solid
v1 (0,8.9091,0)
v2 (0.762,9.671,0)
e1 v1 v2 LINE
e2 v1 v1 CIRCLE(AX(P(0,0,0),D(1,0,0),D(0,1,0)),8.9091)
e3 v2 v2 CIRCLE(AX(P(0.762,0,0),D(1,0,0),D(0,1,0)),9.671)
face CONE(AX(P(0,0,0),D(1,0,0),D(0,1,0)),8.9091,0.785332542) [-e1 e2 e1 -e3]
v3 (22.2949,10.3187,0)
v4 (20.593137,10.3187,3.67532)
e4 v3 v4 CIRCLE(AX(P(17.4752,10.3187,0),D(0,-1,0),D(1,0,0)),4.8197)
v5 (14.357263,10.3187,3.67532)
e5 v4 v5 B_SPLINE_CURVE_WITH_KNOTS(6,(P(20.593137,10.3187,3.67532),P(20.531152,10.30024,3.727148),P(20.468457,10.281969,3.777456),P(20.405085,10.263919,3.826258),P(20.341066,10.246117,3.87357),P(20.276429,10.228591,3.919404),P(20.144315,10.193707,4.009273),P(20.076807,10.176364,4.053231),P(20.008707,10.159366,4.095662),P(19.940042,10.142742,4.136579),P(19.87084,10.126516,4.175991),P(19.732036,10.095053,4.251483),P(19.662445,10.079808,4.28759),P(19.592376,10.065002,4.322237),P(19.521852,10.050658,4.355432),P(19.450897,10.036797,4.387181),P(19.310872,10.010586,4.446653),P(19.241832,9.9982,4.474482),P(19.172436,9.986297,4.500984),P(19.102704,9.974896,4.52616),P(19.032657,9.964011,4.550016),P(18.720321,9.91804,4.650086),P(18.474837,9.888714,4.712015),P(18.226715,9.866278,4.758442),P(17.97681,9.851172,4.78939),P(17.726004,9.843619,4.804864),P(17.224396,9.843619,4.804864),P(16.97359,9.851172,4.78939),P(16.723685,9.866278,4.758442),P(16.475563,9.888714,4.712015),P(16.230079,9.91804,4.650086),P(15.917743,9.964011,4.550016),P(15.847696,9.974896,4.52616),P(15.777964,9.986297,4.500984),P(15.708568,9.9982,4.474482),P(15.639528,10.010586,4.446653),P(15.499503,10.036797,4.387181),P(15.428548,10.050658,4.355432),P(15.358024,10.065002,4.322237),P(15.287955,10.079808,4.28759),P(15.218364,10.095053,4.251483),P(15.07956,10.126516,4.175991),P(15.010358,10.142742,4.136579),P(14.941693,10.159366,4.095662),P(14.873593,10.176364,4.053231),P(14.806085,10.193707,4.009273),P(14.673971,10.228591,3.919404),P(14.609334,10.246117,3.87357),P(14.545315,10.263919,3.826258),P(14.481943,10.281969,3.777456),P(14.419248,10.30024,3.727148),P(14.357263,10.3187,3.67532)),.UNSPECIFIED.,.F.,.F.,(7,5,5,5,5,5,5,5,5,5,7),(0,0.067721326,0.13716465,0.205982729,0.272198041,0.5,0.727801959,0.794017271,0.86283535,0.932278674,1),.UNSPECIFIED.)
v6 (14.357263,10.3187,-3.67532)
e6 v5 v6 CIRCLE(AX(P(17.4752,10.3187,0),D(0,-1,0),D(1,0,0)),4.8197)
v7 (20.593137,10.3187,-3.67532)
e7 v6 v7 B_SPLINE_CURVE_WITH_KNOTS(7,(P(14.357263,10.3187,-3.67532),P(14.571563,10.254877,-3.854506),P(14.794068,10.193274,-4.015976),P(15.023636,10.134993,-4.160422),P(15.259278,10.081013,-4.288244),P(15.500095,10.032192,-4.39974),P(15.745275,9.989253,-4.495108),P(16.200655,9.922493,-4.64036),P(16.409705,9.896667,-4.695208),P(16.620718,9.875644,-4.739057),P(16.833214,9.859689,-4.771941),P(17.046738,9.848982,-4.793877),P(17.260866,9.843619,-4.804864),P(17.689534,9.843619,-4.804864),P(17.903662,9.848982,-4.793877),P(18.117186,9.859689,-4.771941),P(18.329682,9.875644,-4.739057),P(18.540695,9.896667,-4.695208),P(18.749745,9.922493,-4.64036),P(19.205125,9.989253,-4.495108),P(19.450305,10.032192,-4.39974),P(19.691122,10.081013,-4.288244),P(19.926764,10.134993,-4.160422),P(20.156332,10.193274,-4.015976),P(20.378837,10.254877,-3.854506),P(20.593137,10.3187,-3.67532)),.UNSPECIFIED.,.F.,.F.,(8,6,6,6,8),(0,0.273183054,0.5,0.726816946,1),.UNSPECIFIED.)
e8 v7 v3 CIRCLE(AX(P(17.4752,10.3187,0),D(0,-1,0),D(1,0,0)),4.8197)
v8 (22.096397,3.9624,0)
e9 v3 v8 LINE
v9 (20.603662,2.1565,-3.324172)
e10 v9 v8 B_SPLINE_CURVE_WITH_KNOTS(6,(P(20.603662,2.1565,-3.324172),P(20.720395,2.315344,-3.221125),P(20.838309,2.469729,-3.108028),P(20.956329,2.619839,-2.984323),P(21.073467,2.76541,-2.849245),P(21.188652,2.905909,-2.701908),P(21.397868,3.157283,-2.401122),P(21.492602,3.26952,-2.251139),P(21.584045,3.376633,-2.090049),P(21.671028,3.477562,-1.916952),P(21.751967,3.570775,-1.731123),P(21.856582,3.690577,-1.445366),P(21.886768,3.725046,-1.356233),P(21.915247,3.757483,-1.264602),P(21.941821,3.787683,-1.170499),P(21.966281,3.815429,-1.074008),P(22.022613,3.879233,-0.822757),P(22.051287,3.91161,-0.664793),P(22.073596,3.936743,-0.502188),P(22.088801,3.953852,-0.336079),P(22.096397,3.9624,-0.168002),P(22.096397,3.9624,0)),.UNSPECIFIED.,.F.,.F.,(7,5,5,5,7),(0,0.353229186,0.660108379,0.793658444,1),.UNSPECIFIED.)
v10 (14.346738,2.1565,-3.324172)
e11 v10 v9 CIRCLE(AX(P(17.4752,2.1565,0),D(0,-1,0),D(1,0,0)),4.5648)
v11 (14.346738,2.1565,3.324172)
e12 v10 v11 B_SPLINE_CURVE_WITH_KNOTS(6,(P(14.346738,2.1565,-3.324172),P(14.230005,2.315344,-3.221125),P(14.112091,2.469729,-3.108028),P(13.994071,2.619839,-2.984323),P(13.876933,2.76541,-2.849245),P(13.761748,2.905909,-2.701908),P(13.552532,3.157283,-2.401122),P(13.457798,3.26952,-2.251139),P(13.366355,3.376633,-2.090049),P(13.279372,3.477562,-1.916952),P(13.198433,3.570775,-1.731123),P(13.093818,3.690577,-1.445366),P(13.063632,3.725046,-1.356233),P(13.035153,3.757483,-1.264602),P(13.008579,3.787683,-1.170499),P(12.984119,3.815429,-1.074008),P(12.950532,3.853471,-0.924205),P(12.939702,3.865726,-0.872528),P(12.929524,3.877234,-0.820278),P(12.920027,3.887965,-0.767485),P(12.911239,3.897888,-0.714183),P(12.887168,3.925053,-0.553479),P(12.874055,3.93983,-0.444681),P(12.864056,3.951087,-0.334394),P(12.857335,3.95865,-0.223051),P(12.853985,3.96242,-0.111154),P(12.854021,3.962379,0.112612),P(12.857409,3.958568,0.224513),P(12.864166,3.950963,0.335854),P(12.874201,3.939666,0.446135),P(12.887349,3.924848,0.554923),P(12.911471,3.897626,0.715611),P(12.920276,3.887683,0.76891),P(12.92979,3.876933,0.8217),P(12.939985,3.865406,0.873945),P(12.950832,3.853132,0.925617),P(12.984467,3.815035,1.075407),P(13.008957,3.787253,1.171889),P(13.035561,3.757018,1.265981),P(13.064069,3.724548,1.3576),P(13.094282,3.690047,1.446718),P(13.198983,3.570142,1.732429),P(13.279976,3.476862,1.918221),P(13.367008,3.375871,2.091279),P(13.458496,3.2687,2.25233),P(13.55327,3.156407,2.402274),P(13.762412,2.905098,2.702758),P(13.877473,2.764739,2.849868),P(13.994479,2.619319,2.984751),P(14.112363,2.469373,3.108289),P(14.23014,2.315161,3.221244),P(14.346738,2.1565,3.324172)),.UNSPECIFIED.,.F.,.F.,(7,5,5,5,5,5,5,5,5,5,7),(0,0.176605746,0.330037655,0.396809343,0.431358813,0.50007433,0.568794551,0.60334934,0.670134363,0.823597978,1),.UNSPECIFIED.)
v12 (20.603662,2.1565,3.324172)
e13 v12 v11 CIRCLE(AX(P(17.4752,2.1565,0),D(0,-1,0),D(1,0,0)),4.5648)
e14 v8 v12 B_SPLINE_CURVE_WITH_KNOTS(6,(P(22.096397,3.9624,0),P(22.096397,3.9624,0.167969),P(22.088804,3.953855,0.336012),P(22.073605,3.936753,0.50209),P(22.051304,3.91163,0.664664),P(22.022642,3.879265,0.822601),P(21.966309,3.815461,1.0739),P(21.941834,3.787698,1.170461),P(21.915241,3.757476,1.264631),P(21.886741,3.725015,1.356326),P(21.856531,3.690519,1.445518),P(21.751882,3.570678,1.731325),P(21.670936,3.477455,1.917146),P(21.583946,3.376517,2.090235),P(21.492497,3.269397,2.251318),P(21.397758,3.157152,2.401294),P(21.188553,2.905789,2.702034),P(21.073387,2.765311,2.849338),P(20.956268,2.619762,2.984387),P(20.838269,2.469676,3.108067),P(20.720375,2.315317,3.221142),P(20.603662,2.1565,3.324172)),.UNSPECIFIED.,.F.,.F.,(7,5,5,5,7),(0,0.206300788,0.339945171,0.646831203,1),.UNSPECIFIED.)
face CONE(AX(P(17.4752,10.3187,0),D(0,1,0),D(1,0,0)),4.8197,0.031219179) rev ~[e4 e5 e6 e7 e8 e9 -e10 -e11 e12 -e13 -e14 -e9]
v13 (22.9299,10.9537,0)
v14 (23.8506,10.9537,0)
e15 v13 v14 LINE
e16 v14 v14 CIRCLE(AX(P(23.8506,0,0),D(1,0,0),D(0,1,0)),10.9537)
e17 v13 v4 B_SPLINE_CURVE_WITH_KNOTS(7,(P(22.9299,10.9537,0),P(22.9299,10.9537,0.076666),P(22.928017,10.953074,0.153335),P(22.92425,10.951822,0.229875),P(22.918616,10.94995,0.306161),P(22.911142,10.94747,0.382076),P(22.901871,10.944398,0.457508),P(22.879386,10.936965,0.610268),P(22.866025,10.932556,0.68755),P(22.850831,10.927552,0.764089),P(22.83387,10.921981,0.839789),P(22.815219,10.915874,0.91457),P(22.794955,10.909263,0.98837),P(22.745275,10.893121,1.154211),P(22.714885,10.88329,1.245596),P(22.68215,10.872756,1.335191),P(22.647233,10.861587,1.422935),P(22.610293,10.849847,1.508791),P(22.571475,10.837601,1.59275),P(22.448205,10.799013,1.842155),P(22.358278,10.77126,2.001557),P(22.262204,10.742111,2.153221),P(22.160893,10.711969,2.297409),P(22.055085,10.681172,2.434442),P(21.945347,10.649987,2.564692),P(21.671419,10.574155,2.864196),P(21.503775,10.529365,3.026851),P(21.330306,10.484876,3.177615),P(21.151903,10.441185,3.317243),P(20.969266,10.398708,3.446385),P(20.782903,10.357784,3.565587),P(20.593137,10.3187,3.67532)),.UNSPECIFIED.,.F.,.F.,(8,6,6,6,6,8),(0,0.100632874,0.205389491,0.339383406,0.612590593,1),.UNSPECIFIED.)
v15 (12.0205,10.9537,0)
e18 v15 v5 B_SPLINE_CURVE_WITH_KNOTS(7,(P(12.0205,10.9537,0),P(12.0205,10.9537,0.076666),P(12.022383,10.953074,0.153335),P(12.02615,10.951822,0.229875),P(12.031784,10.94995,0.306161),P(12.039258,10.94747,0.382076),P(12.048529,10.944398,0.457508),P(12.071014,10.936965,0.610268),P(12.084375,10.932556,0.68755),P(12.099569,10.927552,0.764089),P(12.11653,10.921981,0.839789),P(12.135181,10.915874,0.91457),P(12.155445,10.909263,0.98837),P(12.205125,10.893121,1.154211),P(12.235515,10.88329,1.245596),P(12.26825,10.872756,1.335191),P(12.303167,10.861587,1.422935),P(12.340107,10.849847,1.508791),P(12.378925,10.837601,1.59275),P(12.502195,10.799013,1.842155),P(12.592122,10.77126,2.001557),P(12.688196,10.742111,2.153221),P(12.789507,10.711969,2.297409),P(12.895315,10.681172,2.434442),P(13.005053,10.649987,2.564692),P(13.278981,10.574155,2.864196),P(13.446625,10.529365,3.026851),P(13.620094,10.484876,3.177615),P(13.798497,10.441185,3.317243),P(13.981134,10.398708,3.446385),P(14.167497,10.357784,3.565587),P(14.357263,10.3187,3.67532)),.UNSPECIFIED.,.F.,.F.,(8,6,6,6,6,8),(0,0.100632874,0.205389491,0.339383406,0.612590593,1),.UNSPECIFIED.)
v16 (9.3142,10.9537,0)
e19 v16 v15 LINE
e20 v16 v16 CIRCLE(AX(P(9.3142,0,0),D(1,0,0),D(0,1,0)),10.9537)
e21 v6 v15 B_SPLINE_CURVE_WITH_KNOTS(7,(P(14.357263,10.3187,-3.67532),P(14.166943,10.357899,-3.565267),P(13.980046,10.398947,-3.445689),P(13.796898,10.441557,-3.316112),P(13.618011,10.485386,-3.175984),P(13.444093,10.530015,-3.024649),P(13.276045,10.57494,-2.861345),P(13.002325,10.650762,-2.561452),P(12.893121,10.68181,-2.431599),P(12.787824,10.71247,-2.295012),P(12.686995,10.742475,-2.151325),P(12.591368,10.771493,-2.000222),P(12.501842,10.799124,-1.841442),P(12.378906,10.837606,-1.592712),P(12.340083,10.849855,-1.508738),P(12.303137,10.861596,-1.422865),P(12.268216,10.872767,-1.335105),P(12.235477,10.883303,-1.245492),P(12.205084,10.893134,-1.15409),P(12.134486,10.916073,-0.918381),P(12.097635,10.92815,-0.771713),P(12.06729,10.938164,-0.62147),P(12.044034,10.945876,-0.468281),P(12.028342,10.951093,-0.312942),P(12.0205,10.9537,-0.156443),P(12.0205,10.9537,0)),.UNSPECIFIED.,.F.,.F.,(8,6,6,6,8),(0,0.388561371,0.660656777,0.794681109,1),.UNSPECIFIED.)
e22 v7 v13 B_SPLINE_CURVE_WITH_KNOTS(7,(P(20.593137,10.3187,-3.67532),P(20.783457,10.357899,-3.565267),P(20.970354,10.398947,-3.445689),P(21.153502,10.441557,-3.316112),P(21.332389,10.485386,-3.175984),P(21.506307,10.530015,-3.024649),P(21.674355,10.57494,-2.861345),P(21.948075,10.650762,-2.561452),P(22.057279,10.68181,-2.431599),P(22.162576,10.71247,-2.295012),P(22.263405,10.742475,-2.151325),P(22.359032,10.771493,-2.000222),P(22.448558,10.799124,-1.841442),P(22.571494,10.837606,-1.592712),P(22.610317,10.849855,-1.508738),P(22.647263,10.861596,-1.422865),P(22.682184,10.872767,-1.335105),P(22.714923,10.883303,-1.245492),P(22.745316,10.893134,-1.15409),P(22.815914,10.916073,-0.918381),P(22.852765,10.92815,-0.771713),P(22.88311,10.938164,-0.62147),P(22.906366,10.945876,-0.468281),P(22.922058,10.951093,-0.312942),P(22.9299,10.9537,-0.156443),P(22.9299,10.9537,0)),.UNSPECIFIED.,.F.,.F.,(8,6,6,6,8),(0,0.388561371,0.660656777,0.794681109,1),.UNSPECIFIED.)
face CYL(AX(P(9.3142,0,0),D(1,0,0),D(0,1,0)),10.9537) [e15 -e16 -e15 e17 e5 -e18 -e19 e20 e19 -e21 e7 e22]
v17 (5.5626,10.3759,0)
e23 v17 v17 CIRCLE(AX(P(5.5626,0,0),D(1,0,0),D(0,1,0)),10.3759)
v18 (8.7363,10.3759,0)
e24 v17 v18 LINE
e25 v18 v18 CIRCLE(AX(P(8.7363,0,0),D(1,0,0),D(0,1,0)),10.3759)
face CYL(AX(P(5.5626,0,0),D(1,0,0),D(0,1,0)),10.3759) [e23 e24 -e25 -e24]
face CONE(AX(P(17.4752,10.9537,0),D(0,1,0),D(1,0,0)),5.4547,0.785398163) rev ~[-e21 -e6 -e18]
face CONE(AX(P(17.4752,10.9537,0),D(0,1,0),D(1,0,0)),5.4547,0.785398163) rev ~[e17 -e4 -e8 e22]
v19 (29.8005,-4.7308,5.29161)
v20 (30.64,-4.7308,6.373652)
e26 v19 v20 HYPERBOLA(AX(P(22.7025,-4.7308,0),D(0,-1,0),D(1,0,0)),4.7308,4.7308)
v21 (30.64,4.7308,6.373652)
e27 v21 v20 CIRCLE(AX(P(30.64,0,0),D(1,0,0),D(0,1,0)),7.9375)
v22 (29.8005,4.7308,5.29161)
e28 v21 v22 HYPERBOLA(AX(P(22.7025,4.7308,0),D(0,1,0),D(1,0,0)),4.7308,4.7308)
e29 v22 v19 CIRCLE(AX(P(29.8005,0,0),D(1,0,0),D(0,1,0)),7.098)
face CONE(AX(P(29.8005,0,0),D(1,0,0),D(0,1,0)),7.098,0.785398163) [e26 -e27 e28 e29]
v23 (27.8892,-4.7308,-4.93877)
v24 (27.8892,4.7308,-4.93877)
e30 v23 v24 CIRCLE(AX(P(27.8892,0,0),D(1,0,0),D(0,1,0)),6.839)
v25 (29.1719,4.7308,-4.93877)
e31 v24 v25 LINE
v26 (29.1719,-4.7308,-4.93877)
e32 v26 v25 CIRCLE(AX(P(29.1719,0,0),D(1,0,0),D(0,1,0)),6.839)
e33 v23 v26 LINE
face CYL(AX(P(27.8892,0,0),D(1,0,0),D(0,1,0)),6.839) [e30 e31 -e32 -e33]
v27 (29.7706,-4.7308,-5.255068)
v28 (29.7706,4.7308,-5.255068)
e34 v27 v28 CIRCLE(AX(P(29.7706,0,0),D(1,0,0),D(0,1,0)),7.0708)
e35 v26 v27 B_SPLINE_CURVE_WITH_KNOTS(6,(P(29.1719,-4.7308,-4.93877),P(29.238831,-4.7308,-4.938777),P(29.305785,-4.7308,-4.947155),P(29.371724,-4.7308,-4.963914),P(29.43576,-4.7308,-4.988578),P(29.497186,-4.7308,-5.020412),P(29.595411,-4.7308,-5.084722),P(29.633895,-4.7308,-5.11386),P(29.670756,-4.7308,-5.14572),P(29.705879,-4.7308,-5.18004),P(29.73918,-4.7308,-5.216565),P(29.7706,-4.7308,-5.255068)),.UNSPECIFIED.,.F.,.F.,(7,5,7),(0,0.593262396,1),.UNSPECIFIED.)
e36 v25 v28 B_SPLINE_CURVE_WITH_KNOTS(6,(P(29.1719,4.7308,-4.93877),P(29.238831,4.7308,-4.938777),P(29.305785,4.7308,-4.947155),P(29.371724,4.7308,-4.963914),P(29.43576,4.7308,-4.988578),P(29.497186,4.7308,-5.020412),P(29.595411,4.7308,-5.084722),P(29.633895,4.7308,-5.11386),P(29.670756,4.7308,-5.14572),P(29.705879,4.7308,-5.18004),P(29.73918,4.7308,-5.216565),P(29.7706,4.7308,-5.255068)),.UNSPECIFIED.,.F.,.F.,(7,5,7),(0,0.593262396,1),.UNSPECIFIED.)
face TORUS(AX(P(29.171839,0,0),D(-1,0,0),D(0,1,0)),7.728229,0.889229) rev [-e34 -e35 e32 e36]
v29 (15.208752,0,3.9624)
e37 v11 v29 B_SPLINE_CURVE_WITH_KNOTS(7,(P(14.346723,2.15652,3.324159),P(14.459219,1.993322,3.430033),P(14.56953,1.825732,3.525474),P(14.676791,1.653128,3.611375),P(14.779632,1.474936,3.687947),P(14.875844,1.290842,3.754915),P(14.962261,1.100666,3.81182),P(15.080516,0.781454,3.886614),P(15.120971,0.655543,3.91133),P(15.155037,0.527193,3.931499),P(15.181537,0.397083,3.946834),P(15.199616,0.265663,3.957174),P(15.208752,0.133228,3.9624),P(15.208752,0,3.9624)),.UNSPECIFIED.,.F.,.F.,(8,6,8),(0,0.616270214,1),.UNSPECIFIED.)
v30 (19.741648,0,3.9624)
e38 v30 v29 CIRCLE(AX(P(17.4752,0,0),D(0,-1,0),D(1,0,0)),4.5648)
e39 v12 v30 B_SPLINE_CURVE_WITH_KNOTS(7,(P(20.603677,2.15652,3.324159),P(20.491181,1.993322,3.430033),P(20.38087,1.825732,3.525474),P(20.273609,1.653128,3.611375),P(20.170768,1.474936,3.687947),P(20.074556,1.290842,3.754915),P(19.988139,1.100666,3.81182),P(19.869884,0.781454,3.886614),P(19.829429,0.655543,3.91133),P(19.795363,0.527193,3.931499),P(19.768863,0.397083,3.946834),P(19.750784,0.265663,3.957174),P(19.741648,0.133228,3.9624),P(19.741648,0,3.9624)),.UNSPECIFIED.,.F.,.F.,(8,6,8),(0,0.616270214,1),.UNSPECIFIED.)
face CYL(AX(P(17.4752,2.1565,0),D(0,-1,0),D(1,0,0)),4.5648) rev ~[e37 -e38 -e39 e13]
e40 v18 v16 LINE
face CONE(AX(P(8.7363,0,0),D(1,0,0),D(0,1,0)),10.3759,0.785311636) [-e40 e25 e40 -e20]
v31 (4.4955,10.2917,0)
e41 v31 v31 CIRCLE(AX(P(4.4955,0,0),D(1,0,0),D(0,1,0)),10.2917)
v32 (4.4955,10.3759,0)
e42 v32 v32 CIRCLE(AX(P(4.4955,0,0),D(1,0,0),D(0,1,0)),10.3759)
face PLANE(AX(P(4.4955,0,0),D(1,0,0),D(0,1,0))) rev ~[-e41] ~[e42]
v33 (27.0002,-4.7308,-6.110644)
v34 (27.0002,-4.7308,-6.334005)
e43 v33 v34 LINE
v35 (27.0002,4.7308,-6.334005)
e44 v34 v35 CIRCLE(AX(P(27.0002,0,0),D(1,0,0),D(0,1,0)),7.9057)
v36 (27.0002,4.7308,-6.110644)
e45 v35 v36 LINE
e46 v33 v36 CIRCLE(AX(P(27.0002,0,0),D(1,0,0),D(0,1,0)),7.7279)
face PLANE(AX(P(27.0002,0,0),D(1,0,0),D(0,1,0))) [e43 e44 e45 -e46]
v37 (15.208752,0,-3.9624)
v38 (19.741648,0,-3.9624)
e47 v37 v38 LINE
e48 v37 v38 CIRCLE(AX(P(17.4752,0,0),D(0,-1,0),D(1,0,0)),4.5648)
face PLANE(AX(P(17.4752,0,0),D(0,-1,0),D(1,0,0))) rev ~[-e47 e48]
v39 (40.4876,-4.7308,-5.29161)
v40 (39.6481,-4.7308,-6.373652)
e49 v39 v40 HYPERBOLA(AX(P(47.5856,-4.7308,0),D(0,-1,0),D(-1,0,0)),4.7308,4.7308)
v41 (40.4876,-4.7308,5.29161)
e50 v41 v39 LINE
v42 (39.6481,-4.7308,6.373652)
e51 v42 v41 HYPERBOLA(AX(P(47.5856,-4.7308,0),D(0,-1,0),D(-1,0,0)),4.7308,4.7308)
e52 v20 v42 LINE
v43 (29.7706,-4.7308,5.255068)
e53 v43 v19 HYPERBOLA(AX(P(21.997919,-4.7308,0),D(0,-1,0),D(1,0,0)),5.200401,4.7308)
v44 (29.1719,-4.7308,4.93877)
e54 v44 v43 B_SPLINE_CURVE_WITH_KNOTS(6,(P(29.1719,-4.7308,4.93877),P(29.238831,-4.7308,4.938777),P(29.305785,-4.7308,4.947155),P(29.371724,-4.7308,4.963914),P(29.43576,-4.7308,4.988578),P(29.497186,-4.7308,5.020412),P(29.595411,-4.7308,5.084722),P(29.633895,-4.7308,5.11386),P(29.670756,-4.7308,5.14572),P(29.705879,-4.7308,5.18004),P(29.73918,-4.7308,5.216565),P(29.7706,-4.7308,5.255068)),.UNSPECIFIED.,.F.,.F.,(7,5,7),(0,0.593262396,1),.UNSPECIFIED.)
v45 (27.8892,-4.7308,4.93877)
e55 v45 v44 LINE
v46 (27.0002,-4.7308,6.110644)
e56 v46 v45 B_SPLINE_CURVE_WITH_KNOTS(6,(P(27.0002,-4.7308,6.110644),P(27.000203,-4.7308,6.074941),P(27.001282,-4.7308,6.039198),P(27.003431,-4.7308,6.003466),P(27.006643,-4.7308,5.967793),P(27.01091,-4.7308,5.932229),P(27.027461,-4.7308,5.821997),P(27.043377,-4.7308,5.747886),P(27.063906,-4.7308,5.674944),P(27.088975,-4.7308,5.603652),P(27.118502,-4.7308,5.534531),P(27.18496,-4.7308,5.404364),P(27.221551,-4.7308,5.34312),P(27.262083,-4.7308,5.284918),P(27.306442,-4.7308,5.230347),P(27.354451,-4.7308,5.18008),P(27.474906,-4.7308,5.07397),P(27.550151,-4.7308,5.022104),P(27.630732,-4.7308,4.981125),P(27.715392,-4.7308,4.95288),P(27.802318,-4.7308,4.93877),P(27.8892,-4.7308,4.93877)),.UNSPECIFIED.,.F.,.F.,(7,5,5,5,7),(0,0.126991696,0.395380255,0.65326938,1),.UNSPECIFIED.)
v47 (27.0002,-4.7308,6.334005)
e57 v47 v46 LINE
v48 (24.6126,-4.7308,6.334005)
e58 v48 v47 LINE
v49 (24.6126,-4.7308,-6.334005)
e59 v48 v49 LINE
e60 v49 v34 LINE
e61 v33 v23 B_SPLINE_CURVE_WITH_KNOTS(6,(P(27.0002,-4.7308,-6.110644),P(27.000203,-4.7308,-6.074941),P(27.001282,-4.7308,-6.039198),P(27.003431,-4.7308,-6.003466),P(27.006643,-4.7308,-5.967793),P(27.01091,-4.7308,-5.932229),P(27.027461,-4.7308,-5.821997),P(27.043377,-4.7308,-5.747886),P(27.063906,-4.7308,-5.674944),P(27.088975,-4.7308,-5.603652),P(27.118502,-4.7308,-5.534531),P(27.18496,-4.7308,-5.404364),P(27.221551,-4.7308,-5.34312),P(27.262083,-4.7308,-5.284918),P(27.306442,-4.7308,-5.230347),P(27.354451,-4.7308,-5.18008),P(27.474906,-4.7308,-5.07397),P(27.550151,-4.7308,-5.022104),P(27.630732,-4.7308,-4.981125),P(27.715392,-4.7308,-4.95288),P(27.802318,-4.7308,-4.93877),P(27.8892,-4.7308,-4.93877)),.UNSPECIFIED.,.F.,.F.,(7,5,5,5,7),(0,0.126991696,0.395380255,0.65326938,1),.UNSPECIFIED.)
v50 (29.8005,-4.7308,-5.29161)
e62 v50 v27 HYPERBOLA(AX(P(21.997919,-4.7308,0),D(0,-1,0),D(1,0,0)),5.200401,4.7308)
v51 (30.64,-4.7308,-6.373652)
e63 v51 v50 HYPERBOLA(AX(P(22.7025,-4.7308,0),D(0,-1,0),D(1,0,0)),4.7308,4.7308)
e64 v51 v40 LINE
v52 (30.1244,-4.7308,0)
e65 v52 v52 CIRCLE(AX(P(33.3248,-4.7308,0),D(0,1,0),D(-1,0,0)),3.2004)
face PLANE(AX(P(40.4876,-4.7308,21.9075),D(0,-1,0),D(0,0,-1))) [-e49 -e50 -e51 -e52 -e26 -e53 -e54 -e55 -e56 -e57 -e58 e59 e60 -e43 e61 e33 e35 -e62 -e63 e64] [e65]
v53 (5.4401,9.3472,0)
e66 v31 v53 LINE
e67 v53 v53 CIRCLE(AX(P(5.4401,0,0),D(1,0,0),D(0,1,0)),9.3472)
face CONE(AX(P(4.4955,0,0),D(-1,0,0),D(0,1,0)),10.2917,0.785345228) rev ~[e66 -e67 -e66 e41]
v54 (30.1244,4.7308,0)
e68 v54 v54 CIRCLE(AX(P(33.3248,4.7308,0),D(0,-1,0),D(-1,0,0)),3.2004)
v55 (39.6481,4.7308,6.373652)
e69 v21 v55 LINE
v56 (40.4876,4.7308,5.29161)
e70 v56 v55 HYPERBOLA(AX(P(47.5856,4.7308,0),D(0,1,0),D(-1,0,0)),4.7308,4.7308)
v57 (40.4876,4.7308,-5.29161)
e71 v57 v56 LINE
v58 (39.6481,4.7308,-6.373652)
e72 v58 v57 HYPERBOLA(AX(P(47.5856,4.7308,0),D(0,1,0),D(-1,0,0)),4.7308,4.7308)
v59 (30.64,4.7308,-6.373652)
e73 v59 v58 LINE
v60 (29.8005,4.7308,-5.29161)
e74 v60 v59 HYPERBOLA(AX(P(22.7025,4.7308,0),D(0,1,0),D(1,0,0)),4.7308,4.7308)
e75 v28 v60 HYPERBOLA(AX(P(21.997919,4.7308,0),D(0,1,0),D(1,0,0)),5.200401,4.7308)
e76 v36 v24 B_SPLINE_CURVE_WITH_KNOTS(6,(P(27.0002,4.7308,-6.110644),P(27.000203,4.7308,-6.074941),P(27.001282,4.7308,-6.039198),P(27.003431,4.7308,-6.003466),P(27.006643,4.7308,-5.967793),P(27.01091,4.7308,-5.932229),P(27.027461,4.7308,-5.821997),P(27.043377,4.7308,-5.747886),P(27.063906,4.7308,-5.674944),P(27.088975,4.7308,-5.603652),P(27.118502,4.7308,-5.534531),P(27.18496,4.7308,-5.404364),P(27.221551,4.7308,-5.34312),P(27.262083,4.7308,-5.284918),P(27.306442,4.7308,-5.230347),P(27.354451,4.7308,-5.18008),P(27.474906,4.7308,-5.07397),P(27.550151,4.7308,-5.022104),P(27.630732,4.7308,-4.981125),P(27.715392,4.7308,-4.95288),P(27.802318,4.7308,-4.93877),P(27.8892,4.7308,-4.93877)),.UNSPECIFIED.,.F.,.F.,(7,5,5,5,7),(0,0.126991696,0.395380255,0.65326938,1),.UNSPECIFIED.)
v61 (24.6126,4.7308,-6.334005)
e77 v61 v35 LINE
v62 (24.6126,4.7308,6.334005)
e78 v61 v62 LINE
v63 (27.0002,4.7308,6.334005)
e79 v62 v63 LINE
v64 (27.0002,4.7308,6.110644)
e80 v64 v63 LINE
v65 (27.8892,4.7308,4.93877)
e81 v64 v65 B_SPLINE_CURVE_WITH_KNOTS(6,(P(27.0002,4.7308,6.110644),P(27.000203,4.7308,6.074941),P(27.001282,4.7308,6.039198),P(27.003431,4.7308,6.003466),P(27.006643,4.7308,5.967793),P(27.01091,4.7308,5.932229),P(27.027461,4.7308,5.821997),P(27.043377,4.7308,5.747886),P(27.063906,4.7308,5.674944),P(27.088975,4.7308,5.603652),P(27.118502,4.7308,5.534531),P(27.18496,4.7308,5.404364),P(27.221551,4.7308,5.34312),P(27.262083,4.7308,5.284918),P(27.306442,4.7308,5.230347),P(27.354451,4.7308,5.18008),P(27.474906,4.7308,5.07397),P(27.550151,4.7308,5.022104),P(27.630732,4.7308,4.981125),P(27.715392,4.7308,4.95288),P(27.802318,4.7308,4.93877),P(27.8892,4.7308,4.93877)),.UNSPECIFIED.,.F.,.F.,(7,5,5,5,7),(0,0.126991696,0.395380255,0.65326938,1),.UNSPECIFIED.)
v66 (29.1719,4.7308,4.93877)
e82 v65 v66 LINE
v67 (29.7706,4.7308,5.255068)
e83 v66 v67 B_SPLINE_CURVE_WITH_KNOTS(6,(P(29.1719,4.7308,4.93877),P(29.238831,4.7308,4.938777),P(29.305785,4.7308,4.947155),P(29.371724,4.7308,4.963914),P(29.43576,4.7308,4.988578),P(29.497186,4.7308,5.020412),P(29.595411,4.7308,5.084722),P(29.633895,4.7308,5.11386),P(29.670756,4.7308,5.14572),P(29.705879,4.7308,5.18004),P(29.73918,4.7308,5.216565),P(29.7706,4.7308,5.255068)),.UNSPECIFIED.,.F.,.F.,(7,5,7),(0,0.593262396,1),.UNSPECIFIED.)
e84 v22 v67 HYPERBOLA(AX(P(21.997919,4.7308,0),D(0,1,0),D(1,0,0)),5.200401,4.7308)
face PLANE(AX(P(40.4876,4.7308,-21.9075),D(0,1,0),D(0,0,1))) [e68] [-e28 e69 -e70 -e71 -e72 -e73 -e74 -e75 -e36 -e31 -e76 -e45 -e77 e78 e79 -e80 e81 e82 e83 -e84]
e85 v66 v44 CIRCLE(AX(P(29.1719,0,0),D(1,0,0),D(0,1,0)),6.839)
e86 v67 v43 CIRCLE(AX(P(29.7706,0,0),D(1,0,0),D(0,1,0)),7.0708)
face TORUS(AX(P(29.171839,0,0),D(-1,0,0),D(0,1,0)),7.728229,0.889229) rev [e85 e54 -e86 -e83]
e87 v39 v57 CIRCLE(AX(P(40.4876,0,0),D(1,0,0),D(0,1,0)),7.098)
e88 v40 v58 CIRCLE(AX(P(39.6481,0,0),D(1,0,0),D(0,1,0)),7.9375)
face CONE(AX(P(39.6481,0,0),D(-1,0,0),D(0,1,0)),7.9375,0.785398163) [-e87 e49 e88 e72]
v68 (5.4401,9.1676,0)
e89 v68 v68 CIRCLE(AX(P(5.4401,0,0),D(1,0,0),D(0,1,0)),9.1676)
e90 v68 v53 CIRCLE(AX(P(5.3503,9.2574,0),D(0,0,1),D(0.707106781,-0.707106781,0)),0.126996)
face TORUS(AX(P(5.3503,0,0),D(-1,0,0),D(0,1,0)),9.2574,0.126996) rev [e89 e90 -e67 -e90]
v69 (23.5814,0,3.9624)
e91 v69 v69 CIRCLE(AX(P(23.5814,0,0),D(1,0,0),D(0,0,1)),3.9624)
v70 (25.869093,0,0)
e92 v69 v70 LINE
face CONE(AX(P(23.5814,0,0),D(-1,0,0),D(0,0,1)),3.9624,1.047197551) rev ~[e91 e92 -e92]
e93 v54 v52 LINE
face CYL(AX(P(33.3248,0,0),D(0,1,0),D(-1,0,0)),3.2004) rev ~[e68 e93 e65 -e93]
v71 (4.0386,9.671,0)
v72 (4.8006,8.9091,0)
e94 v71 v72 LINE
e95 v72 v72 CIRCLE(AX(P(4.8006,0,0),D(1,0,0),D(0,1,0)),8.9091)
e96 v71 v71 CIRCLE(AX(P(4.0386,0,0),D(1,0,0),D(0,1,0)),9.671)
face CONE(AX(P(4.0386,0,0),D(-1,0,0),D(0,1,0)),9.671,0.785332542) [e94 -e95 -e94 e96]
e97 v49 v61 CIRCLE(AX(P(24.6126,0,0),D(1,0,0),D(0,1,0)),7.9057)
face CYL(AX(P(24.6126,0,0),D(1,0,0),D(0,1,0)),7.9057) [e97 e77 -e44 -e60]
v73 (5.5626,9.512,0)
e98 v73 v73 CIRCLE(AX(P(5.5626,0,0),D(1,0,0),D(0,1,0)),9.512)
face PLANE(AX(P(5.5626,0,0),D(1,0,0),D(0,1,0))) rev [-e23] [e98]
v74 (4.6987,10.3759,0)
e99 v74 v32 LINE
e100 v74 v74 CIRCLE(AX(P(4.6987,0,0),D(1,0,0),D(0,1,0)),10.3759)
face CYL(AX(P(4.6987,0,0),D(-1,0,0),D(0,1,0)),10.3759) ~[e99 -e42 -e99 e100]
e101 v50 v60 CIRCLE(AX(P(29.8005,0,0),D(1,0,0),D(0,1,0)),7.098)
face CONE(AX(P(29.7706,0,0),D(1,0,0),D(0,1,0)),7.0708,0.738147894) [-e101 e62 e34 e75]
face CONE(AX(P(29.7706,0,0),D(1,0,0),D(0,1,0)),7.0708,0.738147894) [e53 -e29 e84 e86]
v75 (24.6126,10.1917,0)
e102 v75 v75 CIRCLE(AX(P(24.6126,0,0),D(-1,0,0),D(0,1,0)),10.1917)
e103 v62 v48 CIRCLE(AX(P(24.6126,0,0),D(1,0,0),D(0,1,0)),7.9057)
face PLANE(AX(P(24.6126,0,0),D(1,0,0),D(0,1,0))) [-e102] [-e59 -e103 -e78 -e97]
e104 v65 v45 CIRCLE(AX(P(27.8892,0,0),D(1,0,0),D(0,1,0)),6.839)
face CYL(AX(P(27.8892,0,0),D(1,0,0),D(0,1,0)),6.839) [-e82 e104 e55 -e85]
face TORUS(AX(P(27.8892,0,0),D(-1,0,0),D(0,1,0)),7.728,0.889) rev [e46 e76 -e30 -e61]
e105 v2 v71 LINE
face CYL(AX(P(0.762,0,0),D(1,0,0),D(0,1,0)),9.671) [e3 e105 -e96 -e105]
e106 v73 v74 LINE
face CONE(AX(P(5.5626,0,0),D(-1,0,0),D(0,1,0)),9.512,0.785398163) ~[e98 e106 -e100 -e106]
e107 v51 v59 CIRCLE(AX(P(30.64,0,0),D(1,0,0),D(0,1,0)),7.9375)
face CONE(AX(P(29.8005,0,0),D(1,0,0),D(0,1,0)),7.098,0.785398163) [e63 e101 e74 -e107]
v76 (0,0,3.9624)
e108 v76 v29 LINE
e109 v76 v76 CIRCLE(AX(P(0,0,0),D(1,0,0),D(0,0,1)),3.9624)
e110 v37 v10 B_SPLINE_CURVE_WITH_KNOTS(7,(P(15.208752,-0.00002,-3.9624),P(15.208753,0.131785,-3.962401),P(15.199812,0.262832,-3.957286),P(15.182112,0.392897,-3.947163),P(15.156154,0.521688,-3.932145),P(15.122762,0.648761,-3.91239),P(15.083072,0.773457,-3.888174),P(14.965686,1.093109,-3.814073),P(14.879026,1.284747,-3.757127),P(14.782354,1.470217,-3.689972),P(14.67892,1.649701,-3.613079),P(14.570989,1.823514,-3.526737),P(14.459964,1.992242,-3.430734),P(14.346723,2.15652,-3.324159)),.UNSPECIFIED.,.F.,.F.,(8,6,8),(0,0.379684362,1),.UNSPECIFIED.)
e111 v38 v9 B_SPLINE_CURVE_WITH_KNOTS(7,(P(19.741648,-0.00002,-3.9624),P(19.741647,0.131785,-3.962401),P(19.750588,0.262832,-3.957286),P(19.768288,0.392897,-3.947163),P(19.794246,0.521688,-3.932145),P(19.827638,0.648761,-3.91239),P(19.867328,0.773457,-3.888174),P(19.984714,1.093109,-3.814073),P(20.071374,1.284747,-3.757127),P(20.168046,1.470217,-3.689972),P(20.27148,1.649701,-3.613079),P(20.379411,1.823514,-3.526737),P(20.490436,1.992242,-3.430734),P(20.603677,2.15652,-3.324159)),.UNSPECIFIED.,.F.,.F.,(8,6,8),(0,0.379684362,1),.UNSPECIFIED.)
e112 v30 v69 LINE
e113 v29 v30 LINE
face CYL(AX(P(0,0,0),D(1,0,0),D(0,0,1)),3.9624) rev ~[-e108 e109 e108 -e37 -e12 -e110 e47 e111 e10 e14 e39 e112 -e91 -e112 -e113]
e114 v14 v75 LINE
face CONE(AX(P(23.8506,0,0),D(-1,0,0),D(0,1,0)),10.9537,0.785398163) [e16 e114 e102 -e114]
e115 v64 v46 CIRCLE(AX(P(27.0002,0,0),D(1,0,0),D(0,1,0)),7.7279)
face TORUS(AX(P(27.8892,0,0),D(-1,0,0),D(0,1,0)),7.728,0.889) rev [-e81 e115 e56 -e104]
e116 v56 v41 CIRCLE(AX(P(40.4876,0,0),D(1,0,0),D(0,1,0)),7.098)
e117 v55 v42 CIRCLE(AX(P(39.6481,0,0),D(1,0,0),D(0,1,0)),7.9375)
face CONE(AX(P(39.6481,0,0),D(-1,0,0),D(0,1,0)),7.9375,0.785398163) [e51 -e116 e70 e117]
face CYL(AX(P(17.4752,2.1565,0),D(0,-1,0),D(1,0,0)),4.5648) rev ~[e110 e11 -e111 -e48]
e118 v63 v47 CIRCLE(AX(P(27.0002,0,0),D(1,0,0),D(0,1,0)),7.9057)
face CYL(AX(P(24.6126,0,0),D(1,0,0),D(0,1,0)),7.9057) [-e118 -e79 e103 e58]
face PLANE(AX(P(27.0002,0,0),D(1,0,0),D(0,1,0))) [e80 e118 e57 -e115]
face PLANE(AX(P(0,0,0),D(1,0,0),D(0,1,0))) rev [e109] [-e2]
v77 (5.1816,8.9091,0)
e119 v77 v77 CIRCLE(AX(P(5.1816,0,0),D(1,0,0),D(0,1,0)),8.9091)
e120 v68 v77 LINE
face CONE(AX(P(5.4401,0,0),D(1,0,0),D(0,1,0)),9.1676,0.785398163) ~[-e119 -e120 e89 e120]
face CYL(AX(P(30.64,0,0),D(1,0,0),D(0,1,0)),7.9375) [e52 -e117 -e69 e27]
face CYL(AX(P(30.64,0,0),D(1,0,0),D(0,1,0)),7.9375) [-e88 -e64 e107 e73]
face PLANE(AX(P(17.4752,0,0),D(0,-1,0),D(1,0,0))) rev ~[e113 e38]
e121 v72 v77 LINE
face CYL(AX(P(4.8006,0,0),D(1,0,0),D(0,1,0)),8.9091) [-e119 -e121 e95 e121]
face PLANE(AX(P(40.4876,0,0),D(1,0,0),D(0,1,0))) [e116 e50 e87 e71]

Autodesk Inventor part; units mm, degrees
sketch "Sketch_8" plane through (0, 0, 0) normal (0, 0, 1) x (1, 0, 0)
  line L0 (24.6126, 0) -> (0, 0)
  line L1 (0, 0) -> (0, 8.9091)
  line L2 (0, 8.9091) -> (0.762, 9.671)
  line L3 (0.762, 9.671) -> (4.0386, 9.671)
  line L4 (4.0386, 9.671) -> (4.8006, 8.9091)
  line L5 (4.8006, 8.9091) -> (5.5626, 8.9091)
  line L6 (5.5626, 8.9091) -> (5.5626, 10.3759)
  line L7 (5.5626, 10.3759) -> (8.7363, 10.3759)
  line L8 (8.7363, 10.3759) -> (9.3142, 10.9537)
  line L9 (9.3142, 10.9537) -> (23.8506, 10.9537)
  line L10 (23.8506, 10.9537) -> (24.6126, 10.1917)
  line L11 (24.6126, 10.1917) -> (24.6126, 0)
  line L12 (24.6126, 0) -> (0, 0)
revolve "Revolution1" add sketch "Sketch_8" angle 360 about axis through (24.6126, 0, 0) along (1, 0, 0)
sketch "Sketch_15" plane through (0, 0, 0) normal (0, 0, 1) x (1, 0, 0)
  line L0 (40.4876, 0) -> (24.6126, 0)
  line L1 (24.6126, 0) -> (24.6126, 7.9057)
  line L2 (24.6126, 7.9057) -> (27.0002, 7.9057)
  line L3 (27.0002, 7.9057) -> (27.0002, 7.7279)
  arc A0 (27.0002, 7.7279) -> (27.8892, 6.839) centre (27.8892, 7.728) ccw
  line L4 (27.8892, 6.839) -> (29.1719, 6.839)
  arc A1 (29.1719, 6.839) -> (29.7706, 7.0708) centre (29.1719, 7.7279) ccw
  line L5 (29.7706, 7.0708) -> (29.8005, 7.098)
  line L6 (29.8005, 7.098) -> (30.64, 7.9375)
  line L7 (30.64, 7.9375) -> (39.6481, 7.9375)
  line L8 (39.6481, 7.9375) -> (40.4876, 7.098)
  line L9 (40.4876, 7.098) -> (40.4876, 0)
  line L10 (40.4876, 0) -> (24.6126, 0)
revolve "Revolution2" add sketch "Sketch_15" angle 360 about axis through (40.4876, 0, 0) along (1, 0, 0)
thread "Thread1" size "5/8-18 UNF" class "2A" standard "ANSI Unified Screw Threads" full length
sketch "Sketch_70" plane through (40.4876, 0, 0) normal (1, 0, 0) x (0, 0, -1)
  line L0 (-43.815, -21.9075) -> (43.815, -21.9075)
  line L1 (43.815, -21.9075) -> (43.815, 21.9075)
  line L2 (43.815, 21.9075) -> (-43.815, 21.9075)
  line L3 (-43.815, 21.9075) -> (-43.815, -21.9075)
  line L4 (-21.9075, -4.7308) -> (21.9075, -4.7308)
  line L5 (21.9075, -4.7308) -> (21.9075, 4.7308)
  line L6 (21.9075, 4.7308) -> (-21.9075, 4.7308)
  line L7 (-21.9075, 4.7308) -> (-21.9075, -4.7308)
extrude "Extrusion1" cut sketch "Sketch_70" against normal blind 15.875
sketch "Sketch4" plane through (0, 0, 0) normal (-1, 0, 0) x (0, 0, 1)
  point P0 (0, 0)
hole "Hole1" at (0, 0, 0) direction (1, 0, 0) diameter 7.9248 depth 23.5814 tip angle 120
sketch "Sketch_47" plane through (0, 0, 0) normal (0, 0, 1) x (1, 0, 0)
  line L0 (17.4752, 0) -> (17.4752, 10.9537)
  line L1 (17.4752, 10.9537) -> (22.9299, 10.9537)
  line L2 (22.9299, 10.9537) -> (22.2949, 10.3187)
  line L3 (22.2949, 10.3187) -> (22.04, 2.1565)
  line L4 (22.04, 2.1565) -> (22.04, 0)
  line L5 (22.04, 0) -> (17.4752, 0)
  line L6 (17.4752, 0) -> (17.4752, 10.9537)
revolve "Revolution3" cut sketch "Sketch_47" angle 360 about axis through (17.4752, 0, 0) along (0, -1, 0)
thread "Thread2" size "1/8" designation "1/8 - 27 NPT" standard "NPT" length 7.0392
sketch "Sketch_24" plane through (0, 0, 0) normal (0, 0, 1) x (1, 0, 0)
  line L0 (5.5626, 0) -> (4.8006, 0)
  line L1 (4.4955, 10.3759) -> (4.4955, 10.2917)
  line L2 (4.4955, 10.2917) -> (5.4401, 9.3472)
  arc A0 (5.4401, 9.1676) -> (5.4401, 9.3472) centre (5.3503, 9.2574) ccw
  line L3 (5.4401, 9.1676) -> (5.1816, 8.9091)
  line L4 (5.1816, 8.9091) -> (4.8006, 8.9091)
  line L5 (4.8006, 8.9091) -> (4.8006, 8.655)
  line L6 (4.8006, 8.655) -> (5.5626, 8.655)
  line L7 (5.5626, 8.655) -> (5.5626, 9.512)
  line L8 (5.5626, 9.512) -> (4.6987, 10.3759)
  line L9 (4.6987, 10.3759) -> (4.4955, 10.3759)
revolve "Revolution4" add sketch "Sketch_24" angle 360 about axis through (5.5626, 0, 0) along (1, 0, 0)
sketch "Sketch_43" plane through (0, 0, 0) normal (0, 1, 0) x (-1, 0, 0)
  circle A0 centre (-33.3248, 0) radius 3.2004
extrude "Extrusion2" cut sketch "Sketch_43" along normal mid plane 14.1922
ref_plane "1_XY" through (27.0002, 0, 0) normal (1, 0, 0) x (0, 0, -1)
ref_plane "1_YZ" through (27.0002, 0, 0) normal (0, 0, -1) x (0, 1, 0)
ref_plane "1_ZX" through (27.0002, 0, 0) normal (0, 1, 0) x (1, 0, 0)
ref_plane "c1_XY" through (24.6126, 7.9057, 0) normal (0, 0, 1) x (1, 0, 0)
ref_plane "c1_YZ" through (24.6126, 7.9057, 0) normal (1, 0, 0) x (0, 1, 0)
ref_plane "c1_ZX" through (24.6126, 7.9057, 0) normal (0, 1, 0) x (0, 0, 1)
ref_plane "c2_XY" through (24.6126, -7.9057, 0) normal (0, 0, 1) x (1, 0, 0)
ref_plane "c2_YZ" through (24.6126, -7.9057, 0) normal (1, 0, 0) x (0, 1, 0)
ref_plane "c2_ZX" through (24.6126, -7.9057, 0) normal (0, 1, 0) x (0, 0, 1)
ref_plane "cc1_XY" through (24.6126, 0, 0) normal (0, 0, 1) x (1, 0, 0)
ref_plane "cc1_YZ" through (24.6126, 0, 0) normal (1, 0, 0) x (0, 1, 0)
ref_plane "cc1_ZX" through (24.6126, 0, 0) normal (0, 1, 0) x (0, 0, 1)
ref_plane "cc2_XY" through (27.0002, 0, 0) normal (0, 0, 1) x (1, 0, 0)
ref_plane "cc2_YZ" through (27.0002, 0, 0) normal (1, 0, 0) x (0, 1, 0)
ref_plane "cc2_ZX" through (27.0002, 0, 0) normal (0, 1, 0) x (0, 0, 1)
ref_plane "lovra1_XY" through (35.7124, 0, 0) normal (1, 0, 0) x (0, 0, -1)
ref_plane "lovra1_YZ" through (35.7124, 0, 0) normal (0, 0, -1) x (0, 1, 0)
ref_plane "lovra1_ZX" through (35.7124, 0, 0) normal (0, 1, 0) x (1, 0, 0)
ref_plane "lovra2_XY" through (35.7124, 7.874, 0) normal (1, 0, 0) x (0, 0, -1)
ref_plane "lovra2_YZ" through (35.7124, 7.874, 0) normal (0, 0, -1) x (0, 1, 0)
ref_plane "lovra2_ZX" through (35.7124, 7.874, 0) normal (0, 1, 0) x (1, 0, 0)
ref_plane "lovra21_XY" through (0, 0, 5.2705) normal (1, 0, 0) x (0, 0, -1)
ref_plane "lovra21_YZ" through (0, 0, 5.2705) normal (0, 0, -1) x (0, 1, 0)
ref_plane "lovra21_ZX" through (0, 0, 5.2705) normal (0, 1, 0) x (1, 0, 0)
ref_plane "lovra22_XY" through (0, 0, -5.2705) normal (1, 0, 0) x (0, 0, -1)
ref_plane "lovra22_YZ" through (0, 0, -5.2705) normal (0, 0, -1) x (0, 1, 0)
ref_plane "lovra22_ZX" through (0, 0, -5.2705) normal (0, 1, 0) x (1, 0, 0)
ref_plane "lovra3_XY" through (35.7124, -7.874, 0) normal (1, 0, 0) x (0, 0, -1)
ref_plane "lovra3_YZ" through (35.7124, -7.874, 0) normal (0, 0, -1) x (0, 1, 0)
ref_plane "lovra3_ZX" through (35.7124, -7.874, 0) normal (0, 1, 0) x (1, 0, 0)
ref_plane "olen_XY" through (33.3248, 0, 0) normal (1, 0, 0) x (0, 0, -1)
ref_plane "olen_YZ" through (33.3248, 0, 0) normal (0, 0, -1) x (0, 1, 0)
ref_plane "olen_ZX" through (33.3248, 0, 0) normal (0, 1, 0) x (1, 0, 0)
ref_plane "p1_XY" through (40.4876, 0, 4.7308) normal (1, 0, 0) x (0, 0, -1)
ref_plane "p1_YZ" through (40.4876, 0, 4.7308) normal (0, 0, -1) x (0, 1, 0)
ref_plane "p1_ZX" through (40.4876, 0, 4.7308) normal (0, 1, 0) x (1, 0, 0)
ref_plane "p2_XY" through (40.4876, 0, -4.7308) normal (1, 0, 0) x (0, 0, -1)
ref_plane "p2_YZ" through (40.4876, 0, -4.7308) normal (0, 0, -1) x (0, 1, 0)
ref_plane "p2_ZX" through (40.4876, 0, -4.7308) normal (0, 1, 0) x (1, 0, 0)
ref_plane "port_XY" through (17.4752, 0, 0) normal (0, 0, 1) x (1, 0, 0)
ref_plane "port_YZ" through (17.4752, 0, 0) normal (1, 0, 0) x (0, 1, 0)
ref_plane "port_ZX" through (17.4752, 0, 0) normal (0, 1, 0) x (0, 0, 1)
ref_plane "port2_XY" through (40.4876, 0, 0) normal (1, 0, 0) x (0, 0, -1)
ref_plane "port2_YZ" through (40.4876, 0, 0) normal (0, 0, -1) x (0, 1, 0)
ref_plane "port2_ZX" through (40.4876, 0, 0) normal (0, 1, 0) x (1, 0, 0)
ref_plane "thd1_XY" through (40.4876, 0, 7.9375) normal (1, 0, 0) x (0, 0, -1)
ref_plane "thd1_YZ" through (40.4876, 0, 7.9375) normal (0, 0, -1) x (0, 1, 0)
ref_plane "thd1_ZX" through (40.4876, 0, 7.9375) normal (0, 1, 0) x (1, 0, 0)
ref_plane "thd2_XY" through (40.4876, 0, -7.9375) normal (1, 0, 0) x (0, 0, -1)
ref_plane "thd2_YZ" through (40.4876, 0, -7.9375) normal (0, 0, -1) x (0, 1, 0)
ref_plane "thd2_ZX" through (40.4876, 0, -7.9375) normal (0, 1, 0) x (1, 0, 0)
ref_plane "to_mounting_bracket_XY" through (24.6126, 0, 0) normal (1, 0, 0) x (0, 0, -1)
ref_plane "to_mounting_bracket_YZ" through (24.6126, 0, 0) normal (0, 0, -1) x (0, 1, 0)
ref_plane "to_mounting_bracket_ZX" through (24.6126, 0, 0) normal (0, 1, 0) x (1, 0, 0)
ref_plane "to_nut_XY" through (27.0002, 0, 0) normal (1, 0, 0) x (0, 0, -1)
ref_plane "to_nut_YZ" through (27.0002, 0, 0) normal (0, 0, -1) x (0, 1, 0)
ref_plane "to_nut_ZX" through (27.0002, 0, 0) normal (0, 1, 0) x (1, 0, 0)
ref_plane "to_pin_XY" through (33.3248, 0, 0) normal (0, 1, 0) x (1, 0, 0)
ref_plane "to_pin_YZ" through (33.3248, 0, 0) normal (1, 0, 0) x (0, 0, -1)
ref_plane "to_pin_ZX" through (33.3248, 0, 0) normal (0, 0, -1) x (0, 1, 0)
ref_plane "to_pin_1_XY" through (33.3248, 0, 0) normal (0, 0, 1) x (1, 0, 0)
ref_plane "to_pin_1_YZ" through (33.3248, 0, 0) normal (1, 0, 0) x (0, 1, 0)
ref_plane "to_pin_1_ZX" through (33.3248, 0, 0) normal (0, 1, 0) x (0, 0, 1)
ref_plane "to_pin_r_XY" through (33.3248, 0, 0) normal (0, 0, 1) x (1, 0, 0)
ref_plane "to_pin_r_YZ" through (33.3248, 0, 0) normal (1, 0, 0) x (0, 1, 0)
ref_plane "to_pin_r_ZX" through (33.3248, 0, 0) normal (0, 1, 0) x (0, 0, 1)
ref_plane "to_screw_XY" through (17.4752, 2.032, -6.0452) normal (0, 1, 0) x (1, 0, 0)
ref_plane "to_screw_YZ" through (17.4752, 2.032, -6.0452) normal (1, 0, 0) x (0, 0, -1)
ref_plane "to_screw_ZX" through (17.4752, 2.032, -6.0452) normal (0, 0, -1) x (0, 1, 0)
ref_plane "to_tube_XY" through (4.8006, 0, 0) normal (1, 0, 0) x (0, 0, -1)
ref_plane "to_tube_YZ" through (4.8006, 0, 0) normal (0, 0, -1) x (0, 1, 0)
ref_plane "to_tube_ZX" through (4.8006, 0, 0) normal (0, 1, 0) x (1, 0, 0)
properties part number "04P0000_rear_head"
